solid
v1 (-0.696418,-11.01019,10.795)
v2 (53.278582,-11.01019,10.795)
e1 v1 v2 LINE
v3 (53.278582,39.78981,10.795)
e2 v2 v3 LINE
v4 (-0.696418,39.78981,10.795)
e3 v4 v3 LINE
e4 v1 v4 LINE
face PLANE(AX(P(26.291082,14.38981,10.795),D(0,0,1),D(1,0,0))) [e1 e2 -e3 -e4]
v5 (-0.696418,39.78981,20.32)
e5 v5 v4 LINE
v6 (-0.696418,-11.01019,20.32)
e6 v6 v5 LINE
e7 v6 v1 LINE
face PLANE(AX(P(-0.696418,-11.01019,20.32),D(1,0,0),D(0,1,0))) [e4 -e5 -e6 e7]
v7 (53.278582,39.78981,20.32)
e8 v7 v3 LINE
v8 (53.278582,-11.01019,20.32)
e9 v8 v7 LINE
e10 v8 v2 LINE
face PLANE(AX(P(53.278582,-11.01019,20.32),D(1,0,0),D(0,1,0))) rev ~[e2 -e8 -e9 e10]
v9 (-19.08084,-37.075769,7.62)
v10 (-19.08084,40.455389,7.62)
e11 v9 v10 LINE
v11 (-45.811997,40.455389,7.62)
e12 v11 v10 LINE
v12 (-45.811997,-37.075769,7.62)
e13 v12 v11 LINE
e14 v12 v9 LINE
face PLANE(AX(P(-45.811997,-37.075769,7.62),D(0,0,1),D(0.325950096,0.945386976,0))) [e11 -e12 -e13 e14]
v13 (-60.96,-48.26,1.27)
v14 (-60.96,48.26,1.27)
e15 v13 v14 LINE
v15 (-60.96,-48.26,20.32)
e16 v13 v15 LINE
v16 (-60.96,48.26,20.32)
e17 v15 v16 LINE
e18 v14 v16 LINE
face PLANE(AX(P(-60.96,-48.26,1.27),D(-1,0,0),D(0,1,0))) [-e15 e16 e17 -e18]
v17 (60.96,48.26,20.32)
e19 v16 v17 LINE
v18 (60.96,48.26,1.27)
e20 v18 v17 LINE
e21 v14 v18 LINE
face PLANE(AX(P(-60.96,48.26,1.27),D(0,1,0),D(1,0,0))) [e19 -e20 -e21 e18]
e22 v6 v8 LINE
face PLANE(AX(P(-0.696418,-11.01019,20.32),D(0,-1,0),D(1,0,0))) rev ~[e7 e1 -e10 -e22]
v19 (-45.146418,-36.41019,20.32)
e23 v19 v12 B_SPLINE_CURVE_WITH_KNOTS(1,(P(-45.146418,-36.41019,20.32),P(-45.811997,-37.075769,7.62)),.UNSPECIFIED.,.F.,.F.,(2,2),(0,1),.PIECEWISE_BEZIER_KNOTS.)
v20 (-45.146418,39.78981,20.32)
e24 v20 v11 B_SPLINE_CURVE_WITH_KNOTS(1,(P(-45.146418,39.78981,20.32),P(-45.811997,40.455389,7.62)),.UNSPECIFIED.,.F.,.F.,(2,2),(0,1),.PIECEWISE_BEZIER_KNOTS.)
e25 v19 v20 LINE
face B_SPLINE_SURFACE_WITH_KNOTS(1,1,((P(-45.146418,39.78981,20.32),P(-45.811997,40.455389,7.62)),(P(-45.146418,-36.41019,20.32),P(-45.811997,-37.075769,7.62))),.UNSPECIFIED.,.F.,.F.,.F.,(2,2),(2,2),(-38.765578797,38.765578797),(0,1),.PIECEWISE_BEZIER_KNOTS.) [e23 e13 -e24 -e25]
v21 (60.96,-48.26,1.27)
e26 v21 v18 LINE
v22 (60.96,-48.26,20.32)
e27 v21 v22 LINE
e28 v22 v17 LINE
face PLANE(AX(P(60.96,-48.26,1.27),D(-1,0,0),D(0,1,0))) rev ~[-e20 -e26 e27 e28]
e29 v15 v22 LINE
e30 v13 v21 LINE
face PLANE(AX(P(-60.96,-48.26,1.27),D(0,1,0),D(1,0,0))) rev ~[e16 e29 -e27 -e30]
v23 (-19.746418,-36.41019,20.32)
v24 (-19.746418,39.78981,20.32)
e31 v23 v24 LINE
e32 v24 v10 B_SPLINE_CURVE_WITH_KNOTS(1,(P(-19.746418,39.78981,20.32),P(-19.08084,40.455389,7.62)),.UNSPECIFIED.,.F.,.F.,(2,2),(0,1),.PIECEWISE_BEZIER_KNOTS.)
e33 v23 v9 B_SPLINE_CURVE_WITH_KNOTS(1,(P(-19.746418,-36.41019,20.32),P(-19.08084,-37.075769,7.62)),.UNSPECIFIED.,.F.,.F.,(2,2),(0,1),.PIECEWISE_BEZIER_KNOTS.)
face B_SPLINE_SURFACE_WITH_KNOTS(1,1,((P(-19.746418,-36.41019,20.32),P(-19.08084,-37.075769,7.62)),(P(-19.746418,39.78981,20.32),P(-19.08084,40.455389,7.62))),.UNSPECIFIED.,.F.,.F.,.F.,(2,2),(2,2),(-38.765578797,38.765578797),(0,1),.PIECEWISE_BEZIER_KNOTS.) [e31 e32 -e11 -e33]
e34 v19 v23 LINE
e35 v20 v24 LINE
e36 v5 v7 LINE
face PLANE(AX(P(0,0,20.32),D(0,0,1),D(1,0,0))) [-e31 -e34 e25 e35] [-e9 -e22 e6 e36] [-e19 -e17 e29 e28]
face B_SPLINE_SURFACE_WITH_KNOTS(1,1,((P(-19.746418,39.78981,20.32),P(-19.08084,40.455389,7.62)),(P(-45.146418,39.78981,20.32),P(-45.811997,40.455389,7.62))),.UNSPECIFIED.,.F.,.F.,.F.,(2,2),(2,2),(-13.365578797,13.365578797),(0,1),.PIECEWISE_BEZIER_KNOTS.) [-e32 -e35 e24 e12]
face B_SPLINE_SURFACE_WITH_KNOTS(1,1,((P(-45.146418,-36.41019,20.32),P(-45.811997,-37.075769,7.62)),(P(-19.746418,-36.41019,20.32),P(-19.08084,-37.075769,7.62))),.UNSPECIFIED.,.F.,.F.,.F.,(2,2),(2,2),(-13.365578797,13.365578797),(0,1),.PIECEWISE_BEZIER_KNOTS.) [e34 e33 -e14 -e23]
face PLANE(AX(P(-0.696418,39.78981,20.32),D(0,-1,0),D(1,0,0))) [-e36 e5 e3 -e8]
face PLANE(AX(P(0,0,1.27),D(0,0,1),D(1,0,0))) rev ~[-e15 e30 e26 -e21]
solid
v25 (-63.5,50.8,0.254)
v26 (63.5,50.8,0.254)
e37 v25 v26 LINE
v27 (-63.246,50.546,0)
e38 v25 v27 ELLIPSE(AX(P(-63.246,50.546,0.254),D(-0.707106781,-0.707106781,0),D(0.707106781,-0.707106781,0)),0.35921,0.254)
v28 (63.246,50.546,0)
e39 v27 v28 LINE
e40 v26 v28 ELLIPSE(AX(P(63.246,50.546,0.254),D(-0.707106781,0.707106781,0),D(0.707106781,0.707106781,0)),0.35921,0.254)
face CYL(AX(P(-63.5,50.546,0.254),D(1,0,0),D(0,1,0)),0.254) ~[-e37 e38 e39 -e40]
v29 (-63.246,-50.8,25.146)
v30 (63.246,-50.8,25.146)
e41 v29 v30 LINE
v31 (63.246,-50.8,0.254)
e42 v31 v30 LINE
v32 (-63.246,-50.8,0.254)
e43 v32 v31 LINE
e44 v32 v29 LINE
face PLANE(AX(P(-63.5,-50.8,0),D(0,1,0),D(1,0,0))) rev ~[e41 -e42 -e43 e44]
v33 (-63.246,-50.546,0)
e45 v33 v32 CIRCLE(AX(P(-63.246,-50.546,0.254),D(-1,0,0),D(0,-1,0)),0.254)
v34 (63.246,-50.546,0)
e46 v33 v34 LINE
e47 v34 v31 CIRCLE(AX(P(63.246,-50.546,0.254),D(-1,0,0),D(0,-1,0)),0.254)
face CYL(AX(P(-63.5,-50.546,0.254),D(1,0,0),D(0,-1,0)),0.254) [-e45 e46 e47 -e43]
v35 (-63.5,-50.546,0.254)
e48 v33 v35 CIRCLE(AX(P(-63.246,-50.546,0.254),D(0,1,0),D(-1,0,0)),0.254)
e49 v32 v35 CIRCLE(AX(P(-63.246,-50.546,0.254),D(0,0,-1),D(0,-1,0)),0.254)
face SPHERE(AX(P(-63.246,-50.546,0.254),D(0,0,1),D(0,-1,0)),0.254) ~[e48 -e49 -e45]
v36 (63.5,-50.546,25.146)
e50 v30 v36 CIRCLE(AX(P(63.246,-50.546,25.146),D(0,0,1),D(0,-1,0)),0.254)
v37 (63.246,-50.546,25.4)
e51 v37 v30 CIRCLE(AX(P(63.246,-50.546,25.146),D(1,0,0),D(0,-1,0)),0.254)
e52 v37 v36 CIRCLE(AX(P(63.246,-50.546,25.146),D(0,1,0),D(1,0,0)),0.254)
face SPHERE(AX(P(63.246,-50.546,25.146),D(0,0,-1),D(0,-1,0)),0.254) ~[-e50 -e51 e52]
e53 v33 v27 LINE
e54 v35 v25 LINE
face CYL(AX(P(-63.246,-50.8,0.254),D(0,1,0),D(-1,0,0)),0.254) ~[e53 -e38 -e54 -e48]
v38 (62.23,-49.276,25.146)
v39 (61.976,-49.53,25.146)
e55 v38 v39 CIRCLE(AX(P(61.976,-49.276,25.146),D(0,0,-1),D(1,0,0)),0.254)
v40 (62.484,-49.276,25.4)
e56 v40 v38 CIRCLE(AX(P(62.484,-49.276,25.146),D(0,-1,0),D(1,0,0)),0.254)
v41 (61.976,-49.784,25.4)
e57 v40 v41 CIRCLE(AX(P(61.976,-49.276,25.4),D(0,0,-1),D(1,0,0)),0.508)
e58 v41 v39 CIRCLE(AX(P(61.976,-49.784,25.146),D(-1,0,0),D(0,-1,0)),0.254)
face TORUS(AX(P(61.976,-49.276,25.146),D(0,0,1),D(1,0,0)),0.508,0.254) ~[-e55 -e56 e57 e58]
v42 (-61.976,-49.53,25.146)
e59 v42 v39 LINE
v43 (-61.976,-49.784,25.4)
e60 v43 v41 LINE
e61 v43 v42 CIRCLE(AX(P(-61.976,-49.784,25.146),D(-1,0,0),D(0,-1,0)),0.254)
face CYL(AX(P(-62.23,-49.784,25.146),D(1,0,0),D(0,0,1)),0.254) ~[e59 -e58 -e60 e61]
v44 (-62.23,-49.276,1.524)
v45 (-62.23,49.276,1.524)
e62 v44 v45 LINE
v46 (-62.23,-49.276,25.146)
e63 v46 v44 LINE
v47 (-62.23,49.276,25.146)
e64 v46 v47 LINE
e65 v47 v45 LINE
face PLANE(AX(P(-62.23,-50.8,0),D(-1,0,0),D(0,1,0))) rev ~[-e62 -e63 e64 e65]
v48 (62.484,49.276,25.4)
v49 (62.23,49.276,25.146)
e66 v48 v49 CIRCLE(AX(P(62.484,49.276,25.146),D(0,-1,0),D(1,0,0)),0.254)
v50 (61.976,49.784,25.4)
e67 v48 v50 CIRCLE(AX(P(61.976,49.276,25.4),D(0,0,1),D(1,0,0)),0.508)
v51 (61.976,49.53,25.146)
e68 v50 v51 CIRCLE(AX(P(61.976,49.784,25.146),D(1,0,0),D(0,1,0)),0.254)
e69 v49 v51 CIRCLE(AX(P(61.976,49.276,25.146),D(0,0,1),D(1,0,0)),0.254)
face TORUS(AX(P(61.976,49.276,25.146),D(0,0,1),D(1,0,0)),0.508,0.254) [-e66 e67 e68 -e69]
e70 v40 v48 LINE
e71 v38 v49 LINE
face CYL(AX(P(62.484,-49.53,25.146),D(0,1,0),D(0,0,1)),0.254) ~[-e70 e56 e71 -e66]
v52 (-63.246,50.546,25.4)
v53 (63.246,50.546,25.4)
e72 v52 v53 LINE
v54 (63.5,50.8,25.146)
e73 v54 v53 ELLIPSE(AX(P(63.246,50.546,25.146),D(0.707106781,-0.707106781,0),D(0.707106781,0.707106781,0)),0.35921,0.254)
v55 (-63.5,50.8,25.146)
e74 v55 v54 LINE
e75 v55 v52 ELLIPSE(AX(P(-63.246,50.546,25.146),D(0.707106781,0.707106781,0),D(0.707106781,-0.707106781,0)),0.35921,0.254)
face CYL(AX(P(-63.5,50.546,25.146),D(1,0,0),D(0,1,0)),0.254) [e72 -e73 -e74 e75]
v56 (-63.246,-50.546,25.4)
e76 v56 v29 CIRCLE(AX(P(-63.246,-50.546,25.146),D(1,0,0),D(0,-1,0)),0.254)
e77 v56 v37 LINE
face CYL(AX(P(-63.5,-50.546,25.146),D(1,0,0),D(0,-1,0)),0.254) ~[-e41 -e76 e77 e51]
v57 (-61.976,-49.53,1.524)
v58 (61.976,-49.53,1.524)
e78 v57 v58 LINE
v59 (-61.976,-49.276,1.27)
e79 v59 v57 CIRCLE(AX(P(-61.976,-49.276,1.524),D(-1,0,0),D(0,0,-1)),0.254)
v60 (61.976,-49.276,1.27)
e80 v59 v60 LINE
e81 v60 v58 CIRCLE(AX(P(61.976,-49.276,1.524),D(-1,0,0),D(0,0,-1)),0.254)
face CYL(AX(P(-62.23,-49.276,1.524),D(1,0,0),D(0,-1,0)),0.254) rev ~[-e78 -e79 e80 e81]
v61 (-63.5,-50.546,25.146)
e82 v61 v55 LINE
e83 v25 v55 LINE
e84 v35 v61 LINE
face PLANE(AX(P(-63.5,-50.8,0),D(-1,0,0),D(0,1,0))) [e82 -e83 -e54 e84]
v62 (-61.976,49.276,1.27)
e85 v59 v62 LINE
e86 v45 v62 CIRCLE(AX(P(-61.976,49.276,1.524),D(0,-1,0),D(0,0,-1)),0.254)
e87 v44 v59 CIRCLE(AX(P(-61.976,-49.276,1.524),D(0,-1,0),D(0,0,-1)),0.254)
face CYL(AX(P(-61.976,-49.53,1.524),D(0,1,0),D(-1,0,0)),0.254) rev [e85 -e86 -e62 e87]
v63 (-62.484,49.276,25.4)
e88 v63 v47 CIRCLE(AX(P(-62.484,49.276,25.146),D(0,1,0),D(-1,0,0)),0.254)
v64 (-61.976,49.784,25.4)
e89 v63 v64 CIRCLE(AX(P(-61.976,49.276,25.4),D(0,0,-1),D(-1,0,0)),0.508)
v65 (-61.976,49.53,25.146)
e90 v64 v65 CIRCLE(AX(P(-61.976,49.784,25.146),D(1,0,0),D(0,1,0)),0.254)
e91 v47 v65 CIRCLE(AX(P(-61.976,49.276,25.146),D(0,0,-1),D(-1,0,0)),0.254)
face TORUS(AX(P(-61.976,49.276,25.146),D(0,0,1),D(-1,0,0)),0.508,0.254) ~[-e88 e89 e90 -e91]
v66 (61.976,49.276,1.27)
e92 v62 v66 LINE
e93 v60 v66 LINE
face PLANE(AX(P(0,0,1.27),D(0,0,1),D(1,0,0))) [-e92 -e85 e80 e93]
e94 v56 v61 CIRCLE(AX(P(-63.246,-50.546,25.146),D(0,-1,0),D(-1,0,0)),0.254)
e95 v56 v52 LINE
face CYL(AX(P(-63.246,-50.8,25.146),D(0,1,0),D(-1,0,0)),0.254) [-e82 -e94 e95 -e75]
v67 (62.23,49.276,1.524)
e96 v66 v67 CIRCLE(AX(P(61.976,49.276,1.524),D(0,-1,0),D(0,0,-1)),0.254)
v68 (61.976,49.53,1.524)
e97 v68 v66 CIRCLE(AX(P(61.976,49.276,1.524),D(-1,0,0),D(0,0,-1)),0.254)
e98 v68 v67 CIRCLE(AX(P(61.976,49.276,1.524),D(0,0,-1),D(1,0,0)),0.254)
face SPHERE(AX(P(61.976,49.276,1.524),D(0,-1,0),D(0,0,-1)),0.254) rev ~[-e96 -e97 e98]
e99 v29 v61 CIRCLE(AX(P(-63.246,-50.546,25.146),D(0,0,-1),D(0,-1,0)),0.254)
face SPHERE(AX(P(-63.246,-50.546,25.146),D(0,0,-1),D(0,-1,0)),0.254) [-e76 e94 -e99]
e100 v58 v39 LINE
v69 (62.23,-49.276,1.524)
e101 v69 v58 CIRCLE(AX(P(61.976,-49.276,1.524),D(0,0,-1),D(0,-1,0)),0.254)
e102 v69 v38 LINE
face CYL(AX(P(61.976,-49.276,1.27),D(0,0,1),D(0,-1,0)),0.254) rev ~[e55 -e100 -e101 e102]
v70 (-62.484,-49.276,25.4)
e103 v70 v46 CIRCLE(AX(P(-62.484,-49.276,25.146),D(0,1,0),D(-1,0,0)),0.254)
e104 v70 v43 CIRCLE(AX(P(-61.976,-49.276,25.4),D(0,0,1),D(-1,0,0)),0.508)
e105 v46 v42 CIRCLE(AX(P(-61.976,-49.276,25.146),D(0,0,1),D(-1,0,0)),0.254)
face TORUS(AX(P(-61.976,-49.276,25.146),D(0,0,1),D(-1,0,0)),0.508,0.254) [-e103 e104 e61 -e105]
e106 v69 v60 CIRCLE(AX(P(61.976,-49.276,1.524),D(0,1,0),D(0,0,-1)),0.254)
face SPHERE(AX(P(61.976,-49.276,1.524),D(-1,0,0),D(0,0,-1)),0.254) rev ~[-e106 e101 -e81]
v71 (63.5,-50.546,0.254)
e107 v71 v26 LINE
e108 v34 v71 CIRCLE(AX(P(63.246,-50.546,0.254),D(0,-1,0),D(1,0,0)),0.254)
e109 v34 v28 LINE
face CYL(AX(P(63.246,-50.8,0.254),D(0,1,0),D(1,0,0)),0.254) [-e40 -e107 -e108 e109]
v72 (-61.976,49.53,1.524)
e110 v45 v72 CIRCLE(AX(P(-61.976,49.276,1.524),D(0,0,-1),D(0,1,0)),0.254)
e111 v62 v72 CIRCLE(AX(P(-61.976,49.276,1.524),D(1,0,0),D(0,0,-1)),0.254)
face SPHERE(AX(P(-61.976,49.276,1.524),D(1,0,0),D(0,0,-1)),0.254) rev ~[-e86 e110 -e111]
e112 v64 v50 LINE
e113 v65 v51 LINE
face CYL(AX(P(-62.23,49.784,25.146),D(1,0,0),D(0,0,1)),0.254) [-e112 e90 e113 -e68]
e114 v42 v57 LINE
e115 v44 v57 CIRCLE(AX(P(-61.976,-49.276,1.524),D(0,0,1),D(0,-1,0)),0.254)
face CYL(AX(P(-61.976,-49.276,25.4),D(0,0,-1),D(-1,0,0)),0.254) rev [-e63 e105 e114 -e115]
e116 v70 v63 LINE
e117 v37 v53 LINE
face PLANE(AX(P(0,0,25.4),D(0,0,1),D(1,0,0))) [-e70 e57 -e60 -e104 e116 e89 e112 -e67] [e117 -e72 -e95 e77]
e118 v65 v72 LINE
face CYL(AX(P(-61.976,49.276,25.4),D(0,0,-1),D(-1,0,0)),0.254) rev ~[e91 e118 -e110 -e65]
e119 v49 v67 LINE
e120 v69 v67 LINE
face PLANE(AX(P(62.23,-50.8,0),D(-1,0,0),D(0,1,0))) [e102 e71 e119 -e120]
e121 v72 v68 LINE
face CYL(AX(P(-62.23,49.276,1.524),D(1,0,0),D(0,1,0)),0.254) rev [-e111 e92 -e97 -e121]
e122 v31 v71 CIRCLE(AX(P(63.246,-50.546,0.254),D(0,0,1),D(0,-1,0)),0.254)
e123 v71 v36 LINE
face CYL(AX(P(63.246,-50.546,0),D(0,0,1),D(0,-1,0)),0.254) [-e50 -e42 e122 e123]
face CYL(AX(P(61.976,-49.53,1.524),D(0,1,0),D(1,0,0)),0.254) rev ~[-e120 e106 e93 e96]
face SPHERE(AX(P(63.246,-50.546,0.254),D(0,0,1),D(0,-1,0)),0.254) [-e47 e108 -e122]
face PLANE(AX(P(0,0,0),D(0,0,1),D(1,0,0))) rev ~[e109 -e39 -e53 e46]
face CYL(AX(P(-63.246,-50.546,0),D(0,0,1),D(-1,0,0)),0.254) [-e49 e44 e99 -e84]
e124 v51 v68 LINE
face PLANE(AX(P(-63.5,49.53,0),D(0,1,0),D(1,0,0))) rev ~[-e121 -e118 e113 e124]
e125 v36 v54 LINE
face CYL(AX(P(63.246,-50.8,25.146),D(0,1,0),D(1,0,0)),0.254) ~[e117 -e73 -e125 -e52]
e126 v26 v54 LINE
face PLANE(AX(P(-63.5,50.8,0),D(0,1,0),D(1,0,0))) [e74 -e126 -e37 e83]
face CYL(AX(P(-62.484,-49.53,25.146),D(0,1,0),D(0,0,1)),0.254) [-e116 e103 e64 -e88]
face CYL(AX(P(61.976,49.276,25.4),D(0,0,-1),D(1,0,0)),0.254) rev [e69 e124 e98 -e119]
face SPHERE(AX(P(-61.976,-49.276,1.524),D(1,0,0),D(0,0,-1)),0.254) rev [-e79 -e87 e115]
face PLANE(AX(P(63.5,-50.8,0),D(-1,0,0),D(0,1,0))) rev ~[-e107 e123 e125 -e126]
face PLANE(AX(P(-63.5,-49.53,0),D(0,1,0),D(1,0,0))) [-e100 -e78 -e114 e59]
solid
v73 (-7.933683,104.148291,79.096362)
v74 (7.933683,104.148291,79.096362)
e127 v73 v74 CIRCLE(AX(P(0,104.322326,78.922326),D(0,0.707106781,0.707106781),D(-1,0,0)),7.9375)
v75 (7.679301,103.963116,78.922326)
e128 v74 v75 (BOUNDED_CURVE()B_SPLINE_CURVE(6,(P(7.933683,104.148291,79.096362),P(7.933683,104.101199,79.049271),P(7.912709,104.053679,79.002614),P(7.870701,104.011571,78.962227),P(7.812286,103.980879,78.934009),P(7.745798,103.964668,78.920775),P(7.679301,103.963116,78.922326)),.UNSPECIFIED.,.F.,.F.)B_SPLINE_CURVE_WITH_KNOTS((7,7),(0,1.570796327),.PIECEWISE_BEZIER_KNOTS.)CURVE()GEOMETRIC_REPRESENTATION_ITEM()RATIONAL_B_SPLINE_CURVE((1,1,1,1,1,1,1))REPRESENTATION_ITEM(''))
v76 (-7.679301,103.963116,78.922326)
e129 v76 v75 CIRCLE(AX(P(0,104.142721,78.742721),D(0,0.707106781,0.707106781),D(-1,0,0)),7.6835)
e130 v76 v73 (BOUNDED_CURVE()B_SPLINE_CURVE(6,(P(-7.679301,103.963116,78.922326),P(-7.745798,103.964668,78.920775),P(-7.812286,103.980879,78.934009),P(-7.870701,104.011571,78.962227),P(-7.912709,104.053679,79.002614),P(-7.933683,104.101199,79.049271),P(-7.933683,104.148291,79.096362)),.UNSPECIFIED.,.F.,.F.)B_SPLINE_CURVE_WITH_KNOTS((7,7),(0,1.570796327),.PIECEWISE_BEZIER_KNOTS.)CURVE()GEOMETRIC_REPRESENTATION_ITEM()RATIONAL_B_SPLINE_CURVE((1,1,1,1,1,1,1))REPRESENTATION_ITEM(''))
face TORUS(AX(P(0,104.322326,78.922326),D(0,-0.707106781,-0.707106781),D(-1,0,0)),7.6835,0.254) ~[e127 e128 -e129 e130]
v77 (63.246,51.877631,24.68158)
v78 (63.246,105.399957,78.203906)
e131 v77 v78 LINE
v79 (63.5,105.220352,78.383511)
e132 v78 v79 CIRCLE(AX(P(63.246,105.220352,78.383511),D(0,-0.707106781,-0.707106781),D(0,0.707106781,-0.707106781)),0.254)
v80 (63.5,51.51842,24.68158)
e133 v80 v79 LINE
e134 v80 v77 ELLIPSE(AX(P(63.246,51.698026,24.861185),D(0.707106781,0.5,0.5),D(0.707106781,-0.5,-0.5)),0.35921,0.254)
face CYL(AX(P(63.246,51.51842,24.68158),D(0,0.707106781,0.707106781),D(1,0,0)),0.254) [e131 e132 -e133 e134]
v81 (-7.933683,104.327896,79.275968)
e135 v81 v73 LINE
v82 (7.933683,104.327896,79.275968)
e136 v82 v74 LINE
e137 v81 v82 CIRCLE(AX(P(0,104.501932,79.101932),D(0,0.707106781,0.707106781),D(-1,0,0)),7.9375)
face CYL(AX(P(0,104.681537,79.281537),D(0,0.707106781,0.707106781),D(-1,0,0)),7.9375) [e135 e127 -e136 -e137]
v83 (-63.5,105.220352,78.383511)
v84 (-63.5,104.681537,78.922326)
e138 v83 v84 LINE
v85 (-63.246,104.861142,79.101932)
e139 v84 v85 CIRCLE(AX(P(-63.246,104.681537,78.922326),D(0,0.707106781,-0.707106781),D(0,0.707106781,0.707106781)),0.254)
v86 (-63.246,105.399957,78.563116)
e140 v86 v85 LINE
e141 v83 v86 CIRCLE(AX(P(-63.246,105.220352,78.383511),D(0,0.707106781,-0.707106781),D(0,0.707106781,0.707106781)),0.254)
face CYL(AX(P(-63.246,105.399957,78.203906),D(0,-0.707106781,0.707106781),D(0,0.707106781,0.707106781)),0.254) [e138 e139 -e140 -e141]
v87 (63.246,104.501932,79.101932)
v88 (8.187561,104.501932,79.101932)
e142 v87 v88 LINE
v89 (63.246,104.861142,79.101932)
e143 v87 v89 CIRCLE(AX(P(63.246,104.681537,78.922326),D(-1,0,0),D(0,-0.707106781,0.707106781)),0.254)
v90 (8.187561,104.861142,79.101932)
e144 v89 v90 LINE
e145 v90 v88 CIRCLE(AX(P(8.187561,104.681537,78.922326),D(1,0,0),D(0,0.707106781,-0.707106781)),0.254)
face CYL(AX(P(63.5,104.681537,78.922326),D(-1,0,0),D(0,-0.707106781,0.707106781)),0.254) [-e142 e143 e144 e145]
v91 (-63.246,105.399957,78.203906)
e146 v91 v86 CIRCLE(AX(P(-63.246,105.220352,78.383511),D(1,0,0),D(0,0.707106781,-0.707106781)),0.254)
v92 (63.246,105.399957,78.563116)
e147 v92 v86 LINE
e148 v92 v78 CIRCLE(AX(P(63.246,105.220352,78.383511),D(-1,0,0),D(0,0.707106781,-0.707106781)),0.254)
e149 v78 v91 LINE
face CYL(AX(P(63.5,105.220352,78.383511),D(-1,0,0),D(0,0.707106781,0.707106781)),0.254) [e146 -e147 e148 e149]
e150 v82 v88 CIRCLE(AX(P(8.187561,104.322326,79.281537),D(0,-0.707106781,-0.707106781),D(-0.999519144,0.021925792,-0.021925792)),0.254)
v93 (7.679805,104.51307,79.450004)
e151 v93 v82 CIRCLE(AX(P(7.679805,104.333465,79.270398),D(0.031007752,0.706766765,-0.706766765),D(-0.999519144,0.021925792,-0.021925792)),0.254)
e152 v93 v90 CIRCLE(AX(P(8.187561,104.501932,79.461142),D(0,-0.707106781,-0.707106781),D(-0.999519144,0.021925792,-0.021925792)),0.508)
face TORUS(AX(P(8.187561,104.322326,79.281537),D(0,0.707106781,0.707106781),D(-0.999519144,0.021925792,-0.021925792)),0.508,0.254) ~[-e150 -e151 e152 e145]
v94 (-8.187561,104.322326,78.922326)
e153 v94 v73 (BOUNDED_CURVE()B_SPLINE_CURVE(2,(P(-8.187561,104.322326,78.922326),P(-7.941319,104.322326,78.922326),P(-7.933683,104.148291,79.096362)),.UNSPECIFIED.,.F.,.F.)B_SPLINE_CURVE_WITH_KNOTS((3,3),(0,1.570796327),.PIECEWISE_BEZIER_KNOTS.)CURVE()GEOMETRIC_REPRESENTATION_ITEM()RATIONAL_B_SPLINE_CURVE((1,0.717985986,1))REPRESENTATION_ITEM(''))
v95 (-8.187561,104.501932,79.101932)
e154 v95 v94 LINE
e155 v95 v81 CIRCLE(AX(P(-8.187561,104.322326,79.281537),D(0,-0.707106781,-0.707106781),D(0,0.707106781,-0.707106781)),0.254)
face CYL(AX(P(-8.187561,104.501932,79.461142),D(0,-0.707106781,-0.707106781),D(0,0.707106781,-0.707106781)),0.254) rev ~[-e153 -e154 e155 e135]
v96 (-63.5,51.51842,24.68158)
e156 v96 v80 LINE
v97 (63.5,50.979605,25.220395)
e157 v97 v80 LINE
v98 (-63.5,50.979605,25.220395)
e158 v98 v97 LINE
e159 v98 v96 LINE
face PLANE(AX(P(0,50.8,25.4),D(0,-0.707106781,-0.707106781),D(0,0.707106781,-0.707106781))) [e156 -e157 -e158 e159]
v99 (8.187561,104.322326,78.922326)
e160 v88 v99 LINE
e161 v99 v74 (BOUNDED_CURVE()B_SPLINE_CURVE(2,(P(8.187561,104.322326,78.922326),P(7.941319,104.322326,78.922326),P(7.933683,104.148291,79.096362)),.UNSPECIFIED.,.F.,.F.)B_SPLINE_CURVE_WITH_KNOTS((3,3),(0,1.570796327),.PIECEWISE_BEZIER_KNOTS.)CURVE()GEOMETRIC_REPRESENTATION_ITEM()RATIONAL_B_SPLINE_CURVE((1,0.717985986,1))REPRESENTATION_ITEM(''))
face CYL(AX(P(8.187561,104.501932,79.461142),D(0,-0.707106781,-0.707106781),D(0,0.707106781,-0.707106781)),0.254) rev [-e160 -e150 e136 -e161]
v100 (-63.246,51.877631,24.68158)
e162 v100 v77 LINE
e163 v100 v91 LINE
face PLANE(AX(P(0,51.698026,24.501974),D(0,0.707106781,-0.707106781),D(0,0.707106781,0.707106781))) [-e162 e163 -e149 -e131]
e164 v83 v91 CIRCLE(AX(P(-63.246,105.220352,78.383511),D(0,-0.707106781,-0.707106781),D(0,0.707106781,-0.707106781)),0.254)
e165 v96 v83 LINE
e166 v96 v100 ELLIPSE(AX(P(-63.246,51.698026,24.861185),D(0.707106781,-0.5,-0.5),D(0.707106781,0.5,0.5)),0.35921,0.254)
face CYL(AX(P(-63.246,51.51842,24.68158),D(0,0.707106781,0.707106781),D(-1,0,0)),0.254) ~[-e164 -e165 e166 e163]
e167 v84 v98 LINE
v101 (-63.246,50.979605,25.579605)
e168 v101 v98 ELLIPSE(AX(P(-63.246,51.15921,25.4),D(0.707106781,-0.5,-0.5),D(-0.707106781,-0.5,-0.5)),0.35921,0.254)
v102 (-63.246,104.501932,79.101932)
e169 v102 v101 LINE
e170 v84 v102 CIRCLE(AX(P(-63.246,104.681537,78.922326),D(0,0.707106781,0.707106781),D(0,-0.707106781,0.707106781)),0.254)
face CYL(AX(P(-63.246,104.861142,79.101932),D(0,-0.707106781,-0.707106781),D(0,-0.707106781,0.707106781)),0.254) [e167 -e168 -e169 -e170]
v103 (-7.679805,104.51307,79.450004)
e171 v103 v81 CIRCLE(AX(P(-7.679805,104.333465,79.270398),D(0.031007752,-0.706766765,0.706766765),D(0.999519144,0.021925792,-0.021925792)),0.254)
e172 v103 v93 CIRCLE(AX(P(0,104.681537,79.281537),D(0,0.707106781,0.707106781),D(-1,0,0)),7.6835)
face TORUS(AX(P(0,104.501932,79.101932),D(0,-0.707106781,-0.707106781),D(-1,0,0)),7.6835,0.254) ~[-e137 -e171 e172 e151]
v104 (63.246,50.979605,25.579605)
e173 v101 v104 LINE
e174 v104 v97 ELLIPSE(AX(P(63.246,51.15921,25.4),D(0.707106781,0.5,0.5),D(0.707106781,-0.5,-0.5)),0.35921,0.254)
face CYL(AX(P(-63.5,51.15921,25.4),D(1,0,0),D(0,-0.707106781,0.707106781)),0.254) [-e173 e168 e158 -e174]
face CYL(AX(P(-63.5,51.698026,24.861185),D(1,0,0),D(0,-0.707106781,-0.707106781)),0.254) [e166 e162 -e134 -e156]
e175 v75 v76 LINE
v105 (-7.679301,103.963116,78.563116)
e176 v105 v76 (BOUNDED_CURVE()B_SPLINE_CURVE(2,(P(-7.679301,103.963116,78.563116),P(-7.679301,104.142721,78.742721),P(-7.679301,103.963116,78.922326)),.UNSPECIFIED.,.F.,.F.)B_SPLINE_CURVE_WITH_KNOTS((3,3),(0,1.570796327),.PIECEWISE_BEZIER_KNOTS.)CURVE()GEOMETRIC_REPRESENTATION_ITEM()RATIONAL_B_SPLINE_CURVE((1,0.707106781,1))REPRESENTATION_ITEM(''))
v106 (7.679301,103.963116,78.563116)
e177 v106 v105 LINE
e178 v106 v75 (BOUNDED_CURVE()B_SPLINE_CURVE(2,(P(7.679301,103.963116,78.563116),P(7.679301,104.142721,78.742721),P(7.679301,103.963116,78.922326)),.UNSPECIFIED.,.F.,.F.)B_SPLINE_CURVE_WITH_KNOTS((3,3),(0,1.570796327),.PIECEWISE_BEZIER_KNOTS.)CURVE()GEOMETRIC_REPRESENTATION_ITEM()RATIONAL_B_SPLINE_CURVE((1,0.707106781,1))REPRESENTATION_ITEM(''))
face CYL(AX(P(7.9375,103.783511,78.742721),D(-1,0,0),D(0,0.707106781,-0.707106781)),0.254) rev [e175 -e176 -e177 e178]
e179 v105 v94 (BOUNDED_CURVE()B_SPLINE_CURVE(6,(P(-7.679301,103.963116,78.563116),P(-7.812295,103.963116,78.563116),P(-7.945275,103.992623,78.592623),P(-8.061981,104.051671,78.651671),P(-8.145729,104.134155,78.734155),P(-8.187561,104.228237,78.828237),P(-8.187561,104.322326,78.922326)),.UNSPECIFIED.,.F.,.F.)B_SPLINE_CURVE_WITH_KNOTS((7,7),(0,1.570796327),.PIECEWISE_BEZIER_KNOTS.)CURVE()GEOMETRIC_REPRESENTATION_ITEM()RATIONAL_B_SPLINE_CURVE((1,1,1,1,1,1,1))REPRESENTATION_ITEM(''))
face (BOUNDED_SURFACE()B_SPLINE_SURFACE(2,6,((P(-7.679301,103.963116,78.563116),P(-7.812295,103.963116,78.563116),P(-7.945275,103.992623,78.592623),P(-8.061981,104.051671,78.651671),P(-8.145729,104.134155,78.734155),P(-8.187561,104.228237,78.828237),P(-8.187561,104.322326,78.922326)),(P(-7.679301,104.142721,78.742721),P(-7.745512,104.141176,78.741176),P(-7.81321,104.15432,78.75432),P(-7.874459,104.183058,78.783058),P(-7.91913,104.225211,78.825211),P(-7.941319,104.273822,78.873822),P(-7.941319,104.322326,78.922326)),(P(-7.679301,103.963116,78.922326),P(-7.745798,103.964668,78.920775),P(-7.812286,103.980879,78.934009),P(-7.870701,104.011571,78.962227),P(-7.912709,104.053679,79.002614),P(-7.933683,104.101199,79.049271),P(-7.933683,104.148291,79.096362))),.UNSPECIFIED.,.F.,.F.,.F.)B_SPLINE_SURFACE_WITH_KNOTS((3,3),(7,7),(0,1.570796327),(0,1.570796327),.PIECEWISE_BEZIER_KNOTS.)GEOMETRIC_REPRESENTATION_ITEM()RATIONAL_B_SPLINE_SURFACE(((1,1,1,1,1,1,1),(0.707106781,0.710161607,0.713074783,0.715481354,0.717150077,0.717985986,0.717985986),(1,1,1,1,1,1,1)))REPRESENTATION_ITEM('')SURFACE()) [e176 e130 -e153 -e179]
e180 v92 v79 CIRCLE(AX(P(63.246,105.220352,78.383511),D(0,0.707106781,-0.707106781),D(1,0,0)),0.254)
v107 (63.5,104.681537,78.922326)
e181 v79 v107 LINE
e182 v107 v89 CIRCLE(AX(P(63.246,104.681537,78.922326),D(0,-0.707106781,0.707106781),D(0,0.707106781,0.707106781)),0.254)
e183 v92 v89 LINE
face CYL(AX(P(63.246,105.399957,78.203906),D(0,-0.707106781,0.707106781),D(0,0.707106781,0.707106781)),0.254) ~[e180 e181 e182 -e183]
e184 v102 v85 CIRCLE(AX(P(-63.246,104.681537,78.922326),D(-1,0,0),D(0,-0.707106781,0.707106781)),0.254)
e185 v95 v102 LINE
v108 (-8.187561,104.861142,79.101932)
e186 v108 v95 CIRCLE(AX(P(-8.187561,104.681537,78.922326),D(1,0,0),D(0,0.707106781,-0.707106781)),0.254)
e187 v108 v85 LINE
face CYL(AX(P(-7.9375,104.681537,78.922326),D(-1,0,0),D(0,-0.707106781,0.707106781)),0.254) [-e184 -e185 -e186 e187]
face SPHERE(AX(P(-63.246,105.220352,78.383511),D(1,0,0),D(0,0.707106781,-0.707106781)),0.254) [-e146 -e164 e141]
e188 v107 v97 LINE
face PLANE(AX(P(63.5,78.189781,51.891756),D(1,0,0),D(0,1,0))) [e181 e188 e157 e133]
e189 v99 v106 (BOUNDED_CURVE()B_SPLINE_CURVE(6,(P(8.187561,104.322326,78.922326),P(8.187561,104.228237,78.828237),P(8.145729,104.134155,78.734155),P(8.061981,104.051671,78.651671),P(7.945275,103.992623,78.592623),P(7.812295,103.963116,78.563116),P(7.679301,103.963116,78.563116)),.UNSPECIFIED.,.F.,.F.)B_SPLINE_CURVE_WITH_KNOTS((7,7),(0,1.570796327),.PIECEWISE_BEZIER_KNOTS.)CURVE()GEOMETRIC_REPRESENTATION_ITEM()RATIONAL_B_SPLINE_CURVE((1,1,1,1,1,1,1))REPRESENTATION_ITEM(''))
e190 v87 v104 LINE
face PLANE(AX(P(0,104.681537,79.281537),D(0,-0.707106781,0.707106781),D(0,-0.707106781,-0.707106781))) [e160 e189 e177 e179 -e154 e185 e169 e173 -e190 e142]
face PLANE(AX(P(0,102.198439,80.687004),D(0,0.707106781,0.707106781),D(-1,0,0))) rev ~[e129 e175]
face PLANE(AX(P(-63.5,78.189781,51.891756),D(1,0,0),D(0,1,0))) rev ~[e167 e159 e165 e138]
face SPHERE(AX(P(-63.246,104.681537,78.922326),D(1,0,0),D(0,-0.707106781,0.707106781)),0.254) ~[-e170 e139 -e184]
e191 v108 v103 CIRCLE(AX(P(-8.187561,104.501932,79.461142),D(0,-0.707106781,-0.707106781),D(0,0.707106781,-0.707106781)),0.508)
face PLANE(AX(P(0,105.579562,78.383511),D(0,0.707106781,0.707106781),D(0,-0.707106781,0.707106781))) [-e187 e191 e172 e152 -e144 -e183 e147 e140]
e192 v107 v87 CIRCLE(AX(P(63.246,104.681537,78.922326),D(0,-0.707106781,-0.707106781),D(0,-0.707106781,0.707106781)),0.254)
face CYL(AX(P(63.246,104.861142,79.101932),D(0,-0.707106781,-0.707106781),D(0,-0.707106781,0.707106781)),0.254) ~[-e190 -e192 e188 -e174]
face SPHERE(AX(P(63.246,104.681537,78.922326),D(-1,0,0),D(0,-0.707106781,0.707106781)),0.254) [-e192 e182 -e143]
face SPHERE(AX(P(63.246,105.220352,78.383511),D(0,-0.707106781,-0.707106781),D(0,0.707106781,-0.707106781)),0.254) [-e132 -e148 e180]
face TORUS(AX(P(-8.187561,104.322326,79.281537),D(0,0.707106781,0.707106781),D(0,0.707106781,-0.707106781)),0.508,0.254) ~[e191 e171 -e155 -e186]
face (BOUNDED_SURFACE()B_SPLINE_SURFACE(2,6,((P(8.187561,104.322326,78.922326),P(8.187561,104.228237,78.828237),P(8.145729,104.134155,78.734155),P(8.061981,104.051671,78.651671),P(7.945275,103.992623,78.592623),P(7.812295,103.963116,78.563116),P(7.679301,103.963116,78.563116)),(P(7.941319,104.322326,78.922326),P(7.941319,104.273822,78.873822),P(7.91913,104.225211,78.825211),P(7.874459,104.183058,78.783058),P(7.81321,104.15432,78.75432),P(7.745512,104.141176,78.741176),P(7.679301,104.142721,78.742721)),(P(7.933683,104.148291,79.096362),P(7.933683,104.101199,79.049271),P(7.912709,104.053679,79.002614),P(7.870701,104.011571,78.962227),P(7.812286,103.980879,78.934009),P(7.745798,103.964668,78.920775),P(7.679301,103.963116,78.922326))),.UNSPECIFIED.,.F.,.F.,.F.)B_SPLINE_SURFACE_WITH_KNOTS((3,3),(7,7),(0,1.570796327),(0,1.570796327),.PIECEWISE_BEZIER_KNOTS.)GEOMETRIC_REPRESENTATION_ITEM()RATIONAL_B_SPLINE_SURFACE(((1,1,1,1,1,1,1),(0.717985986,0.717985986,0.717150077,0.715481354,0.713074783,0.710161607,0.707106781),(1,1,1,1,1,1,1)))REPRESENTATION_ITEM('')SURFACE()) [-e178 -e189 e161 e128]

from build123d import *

# Parameters (mm, degrees)
F0_W          = 127
F0_H          = 101.6
F1_DEPTH      = 25.4
F2_T          = -1.27
F4_DEPTH      = 63.5
F4_DEPTH_BACK = 63.5
F5_R          = 0.254
F7_DEPTH      = 0.762
F8_R          = 0.254
F10_W         = 121.92
F10_H         = 96.52
F11_DEPTH     = 19.05
F12_W         = 53.975
F12_H         = 50.8
F13_DEPTH     = 9.525
F14_W         = 25.4
F14_H         = 76.2
F15_DEPTH     = 12.7
F15_TAPER     = -3


with BuildPart() as f1:
    # F0 (on Top) → F1 (new body)
    with BuildSketch(Plane.XY):
        Rectangle(F0_W, F0_H)
    extrude(amount=F1_DEPTH)

    # F2
    f2_openings = [f1.faces().sort_by_distance(p)[0] for p in [
        (0, 0, 25.4),
    ]]
    offset(amount=F2_T, openings=f2_openings)

    # F5
    f5_edges = [f1.edges().sort_by_distance(p)[0] for p in [
        (63.5, -50.8, 12.7),
        (-63.5, -50.8, 12.7),
        (0, -50.8, 0),
        (63.5, 0, 0),
        (0, 50.8, 0),
        (-63.5, 0, 0),
        (0, -49.53, 1.27),
        (62.23, 0, 1.27),
        (0, 49.53, 1.27),
        (-62.23, 0, 1.27),
        (0, -49.53, 25.4),
        (62.23, -49.53, 13.335),
        (-62.23, -49.53, 13.335),
        (0, 49.53, 25.4),
        (-62.23, 49.53, 13.335),
        (62.23, 49.53, 13.335),
        (0, -50.8, 25.4),
        (63.5, 0, 25.4),
        (0, 50.8, 25.4),
        (-63.5, 0, 25.4),
        (-62.23, 0, 25.4),
        (62.23, 0, 25.4),
    ]]
    fillet(f5_edges, radius=F5_R)


with BuildPart() as f4:
    # F3 (on Right) → F4 (new body, two sides)
    with BuildSketch(Plane.YZ) as f4_sk:
        Polygon((104.6815367264, 79.2815367264), (50.8, 25.4), (51.6980256121, 24.5019743879), (105.5795623385, 78.3835111143), align=None)
    extrude(amount=F4_DEPTH)
    extrude(f4_sk.sketch, amount=-F4_DEPTH_BACK)

    # F6 (on face) → F7 (join)
    with BuildSketch(Plane(origin=(0, 91.9815367264, 91.9815367264), x_dir=(-1, 0, 0), z_dir=(0, 0.7071067812, 0.7071067812))):
        with BuildLine():
            Line((-7.9375, -17.9605122421), (7.9375, -17.9605122421))
            ThreePointArc((7.9375, -17.9605122421), (0, -10.0230122421), (-7.9375, -17.9605122421))
        make_face()
    extrude(amount=-F7_DEPTH)

    # F8
    f8_edges = [f4.edges().sort_by_distance(p)[0] for p in [
        (0, 51.698026, 24.501974),
        (63.5, 78.638794, 51.442743),
        (0, 105.579562, 78.383511),
        (-63.5, 78.638794, 51.442743),
        (35.71875, 104.681537, 79.281537),
        (7.9375, 104.412129, 79.012129),
        (0, 104.142721, 78.742721),
        (-7.9375, 104.412129, 79.012129),
        (-35.71875, 104.681537, 79.281537),
        (-63.5, 77.740768, 52.340768),
        (0, 50.8, 25.4),
        (63.5, 77.740768, 52.340768),
        (63.5, 105.13055, 78.832524),
        (0, 99.068877, 84.894197),
        (-63.5, 105.13055, 78.832524),
        (0, 98.530061, 84.355381),
    ]]
    fillet(f8_edges, radius=F8_R)


with BuildPart() as f11:
    # F10 (on face) → F11 (new body)
    with BuildSketch(Plane.XY.offset(1.27)):
        Rectangle(F10_W, F10_H)
    extrude(amount=F11_DEPTH)

    # F12 (on face) → F13 (cut)
    with BuildSketch(Plane.XY.offset(20.32)):
        with Locations((26.2910816818, 14.3898101524)):
            Rectangle(F12_W, F12_H)
    extrude(amount=-F13_DEPTH, mode=Mode.SUBTRACT)

    # F14 (on face) → F15 (cut)
    with BuildSketch(Plane.XY.offset(20.32)):
        with Locations((-32.4464183182, 1.6898101524)):
            Rectangle(F14_W, F14_H)
    extrude(amount=-F15_DEPTH, taper=F15_TAPER, mode=Mode.SUBTRACT)


solid = Compound([f1.part, f4.part, f11.part])
